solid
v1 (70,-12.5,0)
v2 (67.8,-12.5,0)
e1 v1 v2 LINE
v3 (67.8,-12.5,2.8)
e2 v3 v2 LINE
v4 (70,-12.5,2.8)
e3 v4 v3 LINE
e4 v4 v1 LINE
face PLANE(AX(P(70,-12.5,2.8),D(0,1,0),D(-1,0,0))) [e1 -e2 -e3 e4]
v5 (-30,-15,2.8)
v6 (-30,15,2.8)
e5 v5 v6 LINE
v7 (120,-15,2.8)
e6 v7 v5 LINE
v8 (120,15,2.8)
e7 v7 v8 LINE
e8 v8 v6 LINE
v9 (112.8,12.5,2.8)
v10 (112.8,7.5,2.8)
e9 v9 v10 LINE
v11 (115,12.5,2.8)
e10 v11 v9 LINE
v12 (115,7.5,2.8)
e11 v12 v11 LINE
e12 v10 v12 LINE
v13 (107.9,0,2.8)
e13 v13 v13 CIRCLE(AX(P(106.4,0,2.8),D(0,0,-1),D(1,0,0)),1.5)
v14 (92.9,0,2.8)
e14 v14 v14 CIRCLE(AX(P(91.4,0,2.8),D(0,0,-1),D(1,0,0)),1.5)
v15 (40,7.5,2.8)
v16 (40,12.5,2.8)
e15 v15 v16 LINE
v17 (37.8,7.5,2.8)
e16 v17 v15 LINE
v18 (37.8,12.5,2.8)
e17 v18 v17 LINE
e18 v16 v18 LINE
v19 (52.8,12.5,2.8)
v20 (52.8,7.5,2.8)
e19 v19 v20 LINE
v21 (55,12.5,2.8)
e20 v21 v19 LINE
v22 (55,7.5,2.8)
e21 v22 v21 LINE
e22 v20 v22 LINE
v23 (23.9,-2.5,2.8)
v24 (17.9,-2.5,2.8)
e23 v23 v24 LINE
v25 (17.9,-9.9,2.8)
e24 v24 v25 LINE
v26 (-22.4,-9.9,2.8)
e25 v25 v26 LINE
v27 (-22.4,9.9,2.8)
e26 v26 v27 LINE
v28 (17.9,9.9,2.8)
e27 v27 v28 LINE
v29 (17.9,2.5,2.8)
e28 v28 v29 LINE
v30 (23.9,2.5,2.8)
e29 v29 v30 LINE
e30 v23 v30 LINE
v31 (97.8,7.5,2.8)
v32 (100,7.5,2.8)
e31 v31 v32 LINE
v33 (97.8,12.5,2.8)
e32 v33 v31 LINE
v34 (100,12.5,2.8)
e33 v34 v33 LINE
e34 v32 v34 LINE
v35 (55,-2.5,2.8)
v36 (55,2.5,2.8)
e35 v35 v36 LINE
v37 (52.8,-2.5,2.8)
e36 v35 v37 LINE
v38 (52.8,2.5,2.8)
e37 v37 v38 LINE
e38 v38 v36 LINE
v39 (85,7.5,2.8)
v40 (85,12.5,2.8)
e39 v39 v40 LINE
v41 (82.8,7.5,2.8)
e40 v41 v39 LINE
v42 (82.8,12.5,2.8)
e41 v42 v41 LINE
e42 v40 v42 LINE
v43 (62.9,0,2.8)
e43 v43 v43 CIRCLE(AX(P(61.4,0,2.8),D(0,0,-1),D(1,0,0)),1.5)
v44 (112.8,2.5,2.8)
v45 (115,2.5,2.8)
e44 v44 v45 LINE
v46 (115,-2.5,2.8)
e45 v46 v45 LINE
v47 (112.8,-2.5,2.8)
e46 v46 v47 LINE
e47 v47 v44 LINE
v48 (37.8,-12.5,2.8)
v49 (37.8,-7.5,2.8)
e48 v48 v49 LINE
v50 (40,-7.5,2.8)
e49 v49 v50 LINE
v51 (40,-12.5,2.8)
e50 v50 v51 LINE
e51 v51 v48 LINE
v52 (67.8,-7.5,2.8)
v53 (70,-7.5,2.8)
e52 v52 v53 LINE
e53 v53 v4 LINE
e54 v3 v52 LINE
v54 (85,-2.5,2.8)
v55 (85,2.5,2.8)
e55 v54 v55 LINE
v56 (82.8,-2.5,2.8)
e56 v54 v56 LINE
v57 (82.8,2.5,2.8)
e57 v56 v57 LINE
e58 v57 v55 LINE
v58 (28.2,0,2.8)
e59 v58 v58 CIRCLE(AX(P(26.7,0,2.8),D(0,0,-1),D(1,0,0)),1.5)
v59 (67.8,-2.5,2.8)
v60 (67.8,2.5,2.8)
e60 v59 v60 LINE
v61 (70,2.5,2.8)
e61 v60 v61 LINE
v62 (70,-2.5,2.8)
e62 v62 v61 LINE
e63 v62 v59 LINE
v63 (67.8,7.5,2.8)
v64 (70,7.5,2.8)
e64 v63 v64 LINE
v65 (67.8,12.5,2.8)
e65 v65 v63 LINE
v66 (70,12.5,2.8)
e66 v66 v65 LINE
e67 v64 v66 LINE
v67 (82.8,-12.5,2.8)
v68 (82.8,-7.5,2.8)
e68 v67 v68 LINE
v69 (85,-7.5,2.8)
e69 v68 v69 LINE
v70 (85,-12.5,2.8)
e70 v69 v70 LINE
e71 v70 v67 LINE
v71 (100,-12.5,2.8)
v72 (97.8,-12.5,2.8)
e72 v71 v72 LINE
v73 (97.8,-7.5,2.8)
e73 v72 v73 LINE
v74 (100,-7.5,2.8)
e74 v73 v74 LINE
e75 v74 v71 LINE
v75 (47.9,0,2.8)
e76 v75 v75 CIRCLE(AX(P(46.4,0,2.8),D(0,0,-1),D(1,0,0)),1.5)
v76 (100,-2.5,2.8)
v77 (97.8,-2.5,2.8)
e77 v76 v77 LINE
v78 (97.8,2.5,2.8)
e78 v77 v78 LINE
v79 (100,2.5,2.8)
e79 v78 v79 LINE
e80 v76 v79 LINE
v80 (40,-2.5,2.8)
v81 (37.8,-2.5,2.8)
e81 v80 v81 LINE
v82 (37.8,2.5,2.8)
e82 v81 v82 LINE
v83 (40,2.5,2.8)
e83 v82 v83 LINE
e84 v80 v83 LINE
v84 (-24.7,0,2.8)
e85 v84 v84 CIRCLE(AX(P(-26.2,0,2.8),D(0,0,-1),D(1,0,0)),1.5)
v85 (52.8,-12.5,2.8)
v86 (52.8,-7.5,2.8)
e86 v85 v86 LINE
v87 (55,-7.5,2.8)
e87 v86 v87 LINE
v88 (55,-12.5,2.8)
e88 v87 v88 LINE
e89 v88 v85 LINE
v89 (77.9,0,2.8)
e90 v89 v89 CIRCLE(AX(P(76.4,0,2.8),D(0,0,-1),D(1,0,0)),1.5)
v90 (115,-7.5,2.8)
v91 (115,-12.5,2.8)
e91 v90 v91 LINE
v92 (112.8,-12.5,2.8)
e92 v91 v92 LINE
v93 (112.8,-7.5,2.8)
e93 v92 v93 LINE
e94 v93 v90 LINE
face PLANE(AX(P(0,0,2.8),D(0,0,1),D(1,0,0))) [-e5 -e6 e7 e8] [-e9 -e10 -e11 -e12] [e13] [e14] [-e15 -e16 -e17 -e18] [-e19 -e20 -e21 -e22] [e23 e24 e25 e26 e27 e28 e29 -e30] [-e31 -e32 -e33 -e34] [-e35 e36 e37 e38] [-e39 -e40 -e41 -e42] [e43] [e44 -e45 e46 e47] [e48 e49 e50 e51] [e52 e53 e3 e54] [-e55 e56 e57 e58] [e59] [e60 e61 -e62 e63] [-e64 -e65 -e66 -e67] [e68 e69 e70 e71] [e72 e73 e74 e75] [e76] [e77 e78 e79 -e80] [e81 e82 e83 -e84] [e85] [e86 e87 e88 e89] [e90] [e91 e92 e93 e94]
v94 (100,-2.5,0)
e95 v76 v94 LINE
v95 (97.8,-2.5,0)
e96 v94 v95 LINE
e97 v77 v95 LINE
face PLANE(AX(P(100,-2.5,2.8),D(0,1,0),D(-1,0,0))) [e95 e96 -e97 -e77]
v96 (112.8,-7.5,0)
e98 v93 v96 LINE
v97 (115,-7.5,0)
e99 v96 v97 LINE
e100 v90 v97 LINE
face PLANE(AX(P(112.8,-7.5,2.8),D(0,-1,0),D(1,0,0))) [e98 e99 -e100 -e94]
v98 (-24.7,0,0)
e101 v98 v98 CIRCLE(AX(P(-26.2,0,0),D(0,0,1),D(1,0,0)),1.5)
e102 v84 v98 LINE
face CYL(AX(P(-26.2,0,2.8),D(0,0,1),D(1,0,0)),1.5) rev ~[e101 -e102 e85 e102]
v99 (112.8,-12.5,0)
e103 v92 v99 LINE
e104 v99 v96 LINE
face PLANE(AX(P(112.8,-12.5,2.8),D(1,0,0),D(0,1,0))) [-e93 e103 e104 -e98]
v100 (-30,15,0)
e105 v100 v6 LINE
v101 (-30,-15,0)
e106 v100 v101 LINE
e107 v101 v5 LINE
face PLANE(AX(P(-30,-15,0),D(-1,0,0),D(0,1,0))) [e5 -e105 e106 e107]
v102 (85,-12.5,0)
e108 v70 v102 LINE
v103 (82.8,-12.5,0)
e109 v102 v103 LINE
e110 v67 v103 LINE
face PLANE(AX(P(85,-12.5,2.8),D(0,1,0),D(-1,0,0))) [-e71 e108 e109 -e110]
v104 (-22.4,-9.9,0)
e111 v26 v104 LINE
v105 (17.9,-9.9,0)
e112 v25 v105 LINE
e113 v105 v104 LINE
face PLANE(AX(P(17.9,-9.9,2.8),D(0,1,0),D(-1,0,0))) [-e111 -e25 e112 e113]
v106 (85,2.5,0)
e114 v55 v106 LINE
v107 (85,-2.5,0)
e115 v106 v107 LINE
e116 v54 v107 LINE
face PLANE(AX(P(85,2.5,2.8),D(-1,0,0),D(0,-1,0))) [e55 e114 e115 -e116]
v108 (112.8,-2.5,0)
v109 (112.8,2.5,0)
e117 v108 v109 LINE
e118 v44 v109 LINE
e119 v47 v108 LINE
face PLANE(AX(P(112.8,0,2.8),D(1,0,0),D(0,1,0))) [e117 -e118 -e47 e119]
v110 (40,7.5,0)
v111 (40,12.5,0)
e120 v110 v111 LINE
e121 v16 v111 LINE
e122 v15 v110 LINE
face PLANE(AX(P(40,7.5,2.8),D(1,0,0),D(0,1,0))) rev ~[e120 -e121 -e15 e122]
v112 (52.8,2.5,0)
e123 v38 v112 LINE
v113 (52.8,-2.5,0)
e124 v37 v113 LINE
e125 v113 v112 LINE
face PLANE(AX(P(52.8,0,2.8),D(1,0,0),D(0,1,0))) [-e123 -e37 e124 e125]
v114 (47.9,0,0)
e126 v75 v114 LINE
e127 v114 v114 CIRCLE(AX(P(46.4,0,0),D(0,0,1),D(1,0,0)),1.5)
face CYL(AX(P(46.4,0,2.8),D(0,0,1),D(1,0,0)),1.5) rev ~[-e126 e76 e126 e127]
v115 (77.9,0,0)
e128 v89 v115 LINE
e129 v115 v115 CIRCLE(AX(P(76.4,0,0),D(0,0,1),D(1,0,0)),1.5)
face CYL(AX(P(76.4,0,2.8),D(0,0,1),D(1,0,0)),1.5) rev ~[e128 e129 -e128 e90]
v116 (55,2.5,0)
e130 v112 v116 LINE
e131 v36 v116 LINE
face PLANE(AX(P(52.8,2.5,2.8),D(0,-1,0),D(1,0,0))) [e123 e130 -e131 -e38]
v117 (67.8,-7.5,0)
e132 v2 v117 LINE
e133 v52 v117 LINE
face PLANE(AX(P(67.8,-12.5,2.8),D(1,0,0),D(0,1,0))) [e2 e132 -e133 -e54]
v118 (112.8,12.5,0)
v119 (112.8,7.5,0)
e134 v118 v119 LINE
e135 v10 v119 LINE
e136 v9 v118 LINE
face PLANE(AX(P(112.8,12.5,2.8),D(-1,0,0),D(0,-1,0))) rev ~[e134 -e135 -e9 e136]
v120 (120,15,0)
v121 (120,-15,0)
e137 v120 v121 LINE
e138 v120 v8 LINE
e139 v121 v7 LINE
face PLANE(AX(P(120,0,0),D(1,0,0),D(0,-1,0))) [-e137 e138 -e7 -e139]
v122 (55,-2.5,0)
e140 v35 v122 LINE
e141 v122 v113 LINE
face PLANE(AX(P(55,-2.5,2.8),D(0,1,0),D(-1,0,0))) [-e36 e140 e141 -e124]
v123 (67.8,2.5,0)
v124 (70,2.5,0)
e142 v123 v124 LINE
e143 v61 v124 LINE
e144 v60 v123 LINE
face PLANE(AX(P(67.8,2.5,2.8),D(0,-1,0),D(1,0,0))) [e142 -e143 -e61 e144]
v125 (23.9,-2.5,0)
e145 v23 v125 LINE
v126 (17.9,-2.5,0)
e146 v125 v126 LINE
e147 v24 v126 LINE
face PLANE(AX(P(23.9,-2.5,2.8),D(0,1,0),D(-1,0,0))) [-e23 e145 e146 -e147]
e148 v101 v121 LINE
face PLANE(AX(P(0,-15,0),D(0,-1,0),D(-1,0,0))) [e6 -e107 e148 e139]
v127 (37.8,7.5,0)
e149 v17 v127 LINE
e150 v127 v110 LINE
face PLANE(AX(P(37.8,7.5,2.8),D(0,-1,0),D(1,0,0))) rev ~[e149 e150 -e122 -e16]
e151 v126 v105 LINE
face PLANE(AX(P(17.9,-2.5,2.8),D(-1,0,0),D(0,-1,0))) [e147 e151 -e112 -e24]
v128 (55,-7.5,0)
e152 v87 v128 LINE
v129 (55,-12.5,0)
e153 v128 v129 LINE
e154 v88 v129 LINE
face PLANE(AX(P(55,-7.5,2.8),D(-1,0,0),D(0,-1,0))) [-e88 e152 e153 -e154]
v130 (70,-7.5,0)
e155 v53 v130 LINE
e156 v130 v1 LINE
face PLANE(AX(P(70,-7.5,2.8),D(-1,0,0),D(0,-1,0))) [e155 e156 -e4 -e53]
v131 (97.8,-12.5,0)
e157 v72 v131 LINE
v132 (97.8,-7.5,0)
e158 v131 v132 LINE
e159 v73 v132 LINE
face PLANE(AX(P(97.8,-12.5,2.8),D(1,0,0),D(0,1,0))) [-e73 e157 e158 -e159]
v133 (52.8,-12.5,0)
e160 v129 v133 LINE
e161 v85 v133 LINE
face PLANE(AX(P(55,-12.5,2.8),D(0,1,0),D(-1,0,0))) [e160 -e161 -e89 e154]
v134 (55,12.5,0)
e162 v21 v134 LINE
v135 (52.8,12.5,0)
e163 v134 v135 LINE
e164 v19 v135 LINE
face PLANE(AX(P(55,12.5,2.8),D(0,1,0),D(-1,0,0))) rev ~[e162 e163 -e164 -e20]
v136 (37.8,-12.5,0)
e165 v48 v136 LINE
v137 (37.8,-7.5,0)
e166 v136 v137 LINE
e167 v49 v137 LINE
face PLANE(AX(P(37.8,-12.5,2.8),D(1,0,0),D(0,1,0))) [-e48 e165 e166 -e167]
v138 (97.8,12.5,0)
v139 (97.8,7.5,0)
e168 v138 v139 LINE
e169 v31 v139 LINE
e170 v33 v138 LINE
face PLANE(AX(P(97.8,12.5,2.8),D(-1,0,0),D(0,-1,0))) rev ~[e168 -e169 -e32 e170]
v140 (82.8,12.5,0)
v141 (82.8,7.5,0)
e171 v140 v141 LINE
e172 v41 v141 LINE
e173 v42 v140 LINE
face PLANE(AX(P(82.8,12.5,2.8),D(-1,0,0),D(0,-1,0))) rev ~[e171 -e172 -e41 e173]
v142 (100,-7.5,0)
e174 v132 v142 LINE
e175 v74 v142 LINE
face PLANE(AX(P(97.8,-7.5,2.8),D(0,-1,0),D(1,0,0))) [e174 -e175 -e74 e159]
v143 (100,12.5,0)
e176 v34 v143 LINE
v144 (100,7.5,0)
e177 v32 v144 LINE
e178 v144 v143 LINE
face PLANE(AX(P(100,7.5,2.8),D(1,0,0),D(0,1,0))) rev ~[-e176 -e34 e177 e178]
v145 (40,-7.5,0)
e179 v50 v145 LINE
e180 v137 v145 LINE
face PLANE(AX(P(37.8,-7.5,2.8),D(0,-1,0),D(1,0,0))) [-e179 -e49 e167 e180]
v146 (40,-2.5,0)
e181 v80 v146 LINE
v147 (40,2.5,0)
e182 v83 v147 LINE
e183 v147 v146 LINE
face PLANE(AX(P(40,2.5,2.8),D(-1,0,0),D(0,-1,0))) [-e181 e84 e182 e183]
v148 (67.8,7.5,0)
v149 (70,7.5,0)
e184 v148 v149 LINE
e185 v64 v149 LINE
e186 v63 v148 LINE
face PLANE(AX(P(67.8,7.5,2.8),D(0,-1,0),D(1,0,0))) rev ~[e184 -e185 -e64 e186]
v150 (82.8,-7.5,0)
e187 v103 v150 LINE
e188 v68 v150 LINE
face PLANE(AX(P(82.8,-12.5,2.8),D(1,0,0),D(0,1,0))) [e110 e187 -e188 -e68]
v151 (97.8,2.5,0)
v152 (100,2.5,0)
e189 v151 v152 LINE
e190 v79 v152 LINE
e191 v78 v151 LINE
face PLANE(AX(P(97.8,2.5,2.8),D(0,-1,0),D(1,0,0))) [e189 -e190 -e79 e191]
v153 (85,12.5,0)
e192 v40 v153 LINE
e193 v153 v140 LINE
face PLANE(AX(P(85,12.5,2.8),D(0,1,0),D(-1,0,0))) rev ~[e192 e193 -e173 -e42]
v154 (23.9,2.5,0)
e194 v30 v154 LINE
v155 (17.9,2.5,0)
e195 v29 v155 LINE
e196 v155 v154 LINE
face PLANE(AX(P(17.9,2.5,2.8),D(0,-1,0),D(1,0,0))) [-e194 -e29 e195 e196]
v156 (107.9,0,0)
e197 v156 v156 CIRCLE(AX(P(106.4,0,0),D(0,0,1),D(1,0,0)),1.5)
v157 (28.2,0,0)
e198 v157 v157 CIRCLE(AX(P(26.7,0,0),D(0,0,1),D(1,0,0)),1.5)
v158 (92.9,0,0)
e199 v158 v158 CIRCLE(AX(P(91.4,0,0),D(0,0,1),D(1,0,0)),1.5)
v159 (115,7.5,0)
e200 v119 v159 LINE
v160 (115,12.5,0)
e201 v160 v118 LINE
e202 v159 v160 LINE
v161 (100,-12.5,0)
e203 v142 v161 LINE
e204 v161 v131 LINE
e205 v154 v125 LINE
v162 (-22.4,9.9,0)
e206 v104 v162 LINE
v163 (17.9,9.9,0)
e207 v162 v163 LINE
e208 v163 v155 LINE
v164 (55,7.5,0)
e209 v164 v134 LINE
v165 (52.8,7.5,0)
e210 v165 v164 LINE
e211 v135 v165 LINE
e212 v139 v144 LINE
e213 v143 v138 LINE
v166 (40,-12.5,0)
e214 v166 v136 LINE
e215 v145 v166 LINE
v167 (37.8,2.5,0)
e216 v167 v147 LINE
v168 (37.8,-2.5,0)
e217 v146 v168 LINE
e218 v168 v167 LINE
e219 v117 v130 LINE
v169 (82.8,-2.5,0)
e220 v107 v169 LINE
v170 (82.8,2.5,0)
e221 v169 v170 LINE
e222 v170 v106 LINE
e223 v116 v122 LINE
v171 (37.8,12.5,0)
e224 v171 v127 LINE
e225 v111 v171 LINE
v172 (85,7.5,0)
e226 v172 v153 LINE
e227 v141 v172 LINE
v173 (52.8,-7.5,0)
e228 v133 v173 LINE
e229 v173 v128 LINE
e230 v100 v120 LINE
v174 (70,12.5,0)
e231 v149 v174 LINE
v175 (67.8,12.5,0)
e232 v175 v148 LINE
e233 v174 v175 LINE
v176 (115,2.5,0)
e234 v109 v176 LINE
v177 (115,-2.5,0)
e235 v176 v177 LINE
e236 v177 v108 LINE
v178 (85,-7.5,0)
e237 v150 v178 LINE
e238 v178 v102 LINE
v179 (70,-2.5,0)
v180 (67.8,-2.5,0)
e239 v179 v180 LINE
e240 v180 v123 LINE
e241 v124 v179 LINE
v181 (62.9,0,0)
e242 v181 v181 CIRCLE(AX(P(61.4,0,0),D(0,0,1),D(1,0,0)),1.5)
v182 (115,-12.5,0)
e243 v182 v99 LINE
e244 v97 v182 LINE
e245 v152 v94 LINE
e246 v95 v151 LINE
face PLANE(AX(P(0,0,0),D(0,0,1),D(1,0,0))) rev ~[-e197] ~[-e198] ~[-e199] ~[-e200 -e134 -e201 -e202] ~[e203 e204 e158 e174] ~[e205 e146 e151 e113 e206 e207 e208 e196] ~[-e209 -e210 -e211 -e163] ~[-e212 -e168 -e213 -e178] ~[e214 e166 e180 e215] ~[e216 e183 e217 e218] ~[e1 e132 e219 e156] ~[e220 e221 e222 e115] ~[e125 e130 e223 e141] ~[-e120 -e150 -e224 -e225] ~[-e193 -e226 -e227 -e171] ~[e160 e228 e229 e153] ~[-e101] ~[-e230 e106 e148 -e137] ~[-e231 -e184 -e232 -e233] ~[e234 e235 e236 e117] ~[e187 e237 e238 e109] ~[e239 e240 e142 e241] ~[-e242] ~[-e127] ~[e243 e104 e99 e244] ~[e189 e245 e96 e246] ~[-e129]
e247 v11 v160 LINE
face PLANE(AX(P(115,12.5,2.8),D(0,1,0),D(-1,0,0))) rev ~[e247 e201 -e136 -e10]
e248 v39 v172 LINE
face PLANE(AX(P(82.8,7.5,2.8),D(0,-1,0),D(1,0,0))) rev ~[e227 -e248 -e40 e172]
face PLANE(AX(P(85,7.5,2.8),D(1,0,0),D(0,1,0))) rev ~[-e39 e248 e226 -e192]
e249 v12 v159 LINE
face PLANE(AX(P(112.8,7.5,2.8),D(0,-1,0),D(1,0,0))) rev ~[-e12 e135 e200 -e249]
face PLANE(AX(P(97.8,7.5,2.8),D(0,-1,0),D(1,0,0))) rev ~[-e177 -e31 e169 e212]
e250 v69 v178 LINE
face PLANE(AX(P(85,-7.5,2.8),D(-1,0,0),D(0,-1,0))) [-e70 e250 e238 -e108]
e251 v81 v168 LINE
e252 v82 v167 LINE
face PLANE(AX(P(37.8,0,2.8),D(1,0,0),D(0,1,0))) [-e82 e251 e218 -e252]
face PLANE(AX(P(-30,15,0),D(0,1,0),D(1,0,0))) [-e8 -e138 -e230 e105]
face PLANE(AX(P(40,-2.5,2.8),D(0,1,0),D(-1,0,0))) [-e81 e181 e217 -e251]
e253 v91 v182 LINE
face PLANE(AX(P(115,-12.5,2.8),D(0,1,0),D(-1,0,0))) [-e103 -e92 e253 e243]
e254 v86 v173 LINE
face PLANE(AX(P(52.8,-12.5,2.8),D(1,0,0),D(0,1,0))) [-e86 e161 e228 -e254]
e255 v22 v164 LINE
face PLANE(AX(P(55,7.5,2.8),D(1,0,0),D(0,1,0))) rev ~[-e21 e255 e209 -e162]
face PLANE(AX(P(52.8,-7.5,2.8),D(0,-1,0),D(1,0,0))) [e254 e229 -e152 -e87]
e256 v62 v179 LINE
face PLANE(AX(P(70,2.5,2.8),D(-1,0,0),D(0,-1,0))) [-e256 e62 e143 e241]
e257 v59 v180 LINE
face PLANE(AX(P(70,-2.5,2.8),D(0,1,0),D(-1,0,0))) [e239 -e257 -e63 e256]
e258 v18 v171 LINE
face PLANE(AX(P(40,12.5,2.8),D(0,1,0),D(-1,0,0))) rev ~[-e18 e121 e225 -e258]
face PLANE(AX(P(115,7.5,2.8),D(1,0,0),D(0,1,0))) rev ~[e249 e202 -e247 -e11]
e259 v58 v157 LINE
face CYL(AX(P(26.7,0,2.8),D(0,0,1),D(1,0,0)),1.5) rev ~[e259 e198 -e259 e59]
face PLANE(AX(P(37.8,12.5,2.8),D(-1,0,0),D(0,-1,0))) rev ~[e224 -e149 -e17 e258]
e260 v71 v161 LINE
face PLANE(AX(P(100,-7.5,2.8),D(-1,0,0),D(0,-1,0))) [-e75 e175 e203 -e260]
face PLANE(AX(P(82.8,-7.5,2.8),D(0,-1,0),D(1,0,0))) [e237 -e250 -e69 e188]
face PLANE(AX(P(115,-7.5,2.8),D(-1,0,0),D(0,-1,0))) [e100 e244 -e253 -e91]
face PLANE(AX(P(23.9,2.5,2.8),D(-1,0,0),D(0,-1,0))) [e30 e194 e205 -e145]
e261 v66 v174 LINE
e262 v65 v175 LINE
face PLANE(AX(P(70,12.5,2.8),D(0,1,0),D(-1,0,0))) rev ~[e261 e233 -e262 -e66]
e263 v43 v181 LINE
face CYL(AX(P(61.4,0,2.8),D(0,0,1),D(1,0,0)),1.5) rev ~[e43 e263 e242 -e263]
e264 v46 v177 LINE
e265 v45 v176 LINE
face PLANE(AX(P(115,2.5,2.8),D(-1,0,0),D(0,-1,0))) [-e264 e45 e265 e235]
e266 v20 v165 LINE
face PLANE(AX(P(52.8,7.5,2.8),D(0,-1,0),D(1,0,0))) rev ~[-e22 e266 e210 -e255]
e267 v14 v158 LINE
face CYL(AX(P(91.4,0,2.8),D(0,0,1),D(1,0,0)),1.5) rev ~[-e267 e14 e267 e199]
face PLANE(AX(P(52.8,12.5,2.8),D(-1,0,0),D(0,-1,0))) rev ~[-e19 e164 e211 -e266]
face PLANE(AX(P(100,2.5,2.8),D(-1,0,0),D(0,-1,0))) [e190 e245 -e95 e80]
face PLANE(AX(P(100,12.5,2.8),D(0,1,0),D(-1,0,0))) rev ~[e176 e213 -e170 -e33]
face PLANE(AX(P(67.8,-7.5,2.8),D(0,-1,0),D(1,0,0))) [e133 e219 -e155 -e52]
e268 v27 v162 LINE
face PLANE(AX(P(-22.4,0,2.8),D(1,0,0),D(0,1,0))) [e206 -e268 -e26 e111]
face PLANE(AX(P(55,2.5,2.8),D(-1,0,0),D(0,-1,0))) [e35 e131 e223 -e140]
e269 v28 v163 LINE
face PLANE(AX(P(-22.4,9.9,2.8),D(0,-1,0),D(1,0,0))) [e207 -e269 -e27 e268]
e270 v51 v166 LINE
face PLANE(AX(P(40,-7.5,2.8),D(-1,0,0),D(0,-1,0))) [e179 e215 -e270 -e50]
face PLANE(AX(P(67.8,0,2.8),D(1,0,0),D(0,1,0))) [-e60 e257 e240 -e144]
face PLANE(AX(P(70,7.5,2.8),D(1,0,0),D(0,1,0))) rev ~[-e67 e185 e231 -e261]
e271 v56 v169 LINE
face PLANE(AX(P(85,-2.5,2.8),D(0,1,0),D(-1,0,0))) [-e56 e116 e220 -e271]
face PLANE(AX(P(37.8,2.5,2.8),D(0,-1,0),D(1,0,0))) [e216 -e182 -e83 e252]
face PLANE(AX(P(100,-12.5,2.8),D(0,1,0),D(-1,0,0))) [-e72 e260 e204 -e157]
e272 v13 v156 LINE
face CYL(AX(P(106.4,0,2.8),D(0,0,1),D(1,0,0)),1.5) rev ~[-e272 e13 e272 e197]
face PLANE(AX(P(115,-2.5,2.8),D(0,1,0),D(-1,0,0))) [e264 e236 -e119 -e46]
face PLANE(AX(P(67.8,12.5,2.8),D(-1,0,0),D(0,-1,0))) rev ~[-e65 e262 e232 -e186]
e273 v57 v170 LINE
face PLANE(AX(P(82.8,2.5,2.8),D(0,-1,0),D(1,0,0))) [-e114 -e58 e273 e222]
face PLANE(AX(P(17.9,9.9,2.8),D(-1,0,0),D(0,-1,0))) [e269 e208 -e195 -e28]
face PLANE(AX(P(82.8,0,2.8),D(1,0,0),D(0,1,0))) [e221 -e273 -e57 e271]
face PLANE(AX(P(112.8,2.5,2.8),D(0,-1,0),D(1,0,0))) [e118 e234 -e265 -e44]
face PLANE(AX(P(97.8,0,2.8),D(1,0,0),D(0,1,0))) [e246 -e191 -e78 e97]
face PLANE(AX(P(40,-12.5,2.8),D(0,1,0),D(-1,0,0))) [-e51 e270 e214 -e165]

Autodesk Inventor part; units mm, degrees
ref_plane "YZ Plane" through (0, 0, 0) normal (1, 0, 0) x (0, 1, 0)
ref_plane "XZ Plane" through (0, 0, 0) normal (0, 1, 0) x (-1, 0, 0)
ref_plane "XY Plane" through (0, 0, 0) normal (0, 0, 1) x (1, 0, 0)
sketch "Sketch1" plane through (0, 0, 0) normal (0, 0, 1) x (1, 0, 0)
  line L0 (-30, -15) -> (-30, 15)
  line L1 (-30, 15) -> (120, 15)
  line L2 (120, 15) -> (120, -15)
  line L3 (120, -15) -> (-30, -15)
  line L4 (-60, 0) -> (150, 0) projected
  line L5 (0, -21) -> (0, 21) projected
  dimension "d13" = 30
  dimension "d55" = 150
  dimension "d56" = 15
extrude "Extrusion1" add sketch "Sketch1" along normal blind 2.8
sketch "Sketch4" plane through (0, 0, 2.8) normal (0, 0, 1) x (1, 0, 0)
  line L0 (-60, 0) -> (150, 0) projected
  line L1 (17.9, 9.9) -> (17.9, 2.5)
  line L2 (-22.4, 9.9) -> (17.9, 9.9)
  line L3 (17.9, 2.5) -> (23.9, 2.5)
  line L4 (23.9, 2.5) -> (23.9, -2.5)
  line L5 (23.9, -2.5) -> (17.9, -2.5)
  line L6 (17.9, -2.5) -> (17.9, -9.9)
  line L7 (17.9, -9.9) -> (-22.4, -9.9)
  line L8 (-22.4, -9.9) -> (-22.4, 9.9)
  line L9 (-22.4, 9.9) -> (17.9, 9.9)
  circle A0 centre (26.7, 0) radius 1.5
  circle A1 centre (-26.2, 0) radius 1.5
  line L10 (120, 15) -> (120, -15) projected
  line L11 (120, -15) -> (-30, -15) projected
  line L12 (112.8, 2.5) -> (115, 2.5)
  line L13 (115, 2.5) -> (115, -2.5)
  line L14 (115, -2.5) -> (112.8, -2.5)
  line L15 (112.8, -2.5) -> (112.8, 2.5)
  line L16 (97.8, 2.5) -> (100, 2.5)
  line L17 (100, 2.5) -> (100, -2.5)
  line L18 (100, -2.5) -> (97.8, -2.5)
  line L19 (97.8, -2.5) -> (97.8, 2.5)
  line L20 (82.8, 2.5) -> (85, 2.5)
  line L21 (85, 2.5) -> (85, -2.5)
  line L22 (85, -2.5) -> (82.8, -2.5)
  line L23 (82.8, -2.5) -> (82.8, 2.5)
  line L24 (67.8, 2.5) -> (70, 2.5)
  line L25 (70, 2.5) -> (70, -2.5)
  line L26 (70, -2.5) -> (67.8, -2.5)
  line L27 (67.8, -2.5) -> (67.8, 2.5)
  line L28 (52.8, 2.5) -> (55, 2.5)
  line L29 (55, 2.5) -> (55, -2.5)
  line L30 (55, -2.5) -> (52.8, -2.5)
  line L31 (52.8, -2.5) -> (52.8, 2.5)
  line L32 (37.8, 2.5) -> (40, 2.5)
  line L33 (40, 2.5) -> (40, -2.5)
  line L34 (40, -2.5) -> (37.8, -2.5)
  line L35 (37.8, -2.5) -> (37.8, 2.5)
  line L36 (112.8, -7.5) -> (115, -7.5)
  line L37 (115, -7.5) -> (115, -12.5)
  line L38 (115, -12.5) -> (112.8, -12.5)
  line L39 (112.8, -12.5) -> (112.8, -7.5)
  line L40 (97.8, -7.5) -> (100, -7.5)
  line L41 (100, -7.5) -> (100, -12.5)
  line L42 (100, -12.5) -> (97.8, -12.5)
  line L43 (97.8, -12.5) -> (97.8, -7.5)
  line L44 (82.8, -7.5) -> (85, -7.5)
  line L45 (85, -7.5) -> (85, -12.5)
  line L46 (85, -12.5) -> (82.8, -12.5)
  line L47 (82.8, -12.5) -> (82.8, -7.5)
  line L48 (67.8, -7.5) -> (70, -7.5)
  line L49 (70, -7.5) -> (70, -12.5)
  line L50 (70, -12.5) -> (67.8, -12.5)
  line L51 (67.8, -12.5) -> (67.8, -7.5)
  line L52 (52.8, -7.5) -> (55, -7.5)
  line L53 (55, -7.5) -> (55, -12.5)
  line L54 (55, -12.5) -> (52.8, -12.5)
  line L55 (52.8, -12.5) -> (52.8, -7.5)
  line L56 (37.8, -7.5) -> (40, -7.5)
  line L57 (40, -7.5) -> (40, -12.5)
  line L58 (40, -12.5) -> (37.8, -12.5)
  line L59 (37.8, -12.5) -> (37.8, -7.5)
  line L60 (112.8, 12.5) -> (112.8, 7.5)
  line L61 (115, 12.5) -> (112.8, 12.5)
  line L62 (112.8, 7.5) -> (115, 7.5)
  line L63 (115, 7.5) -> (115, 12.5)
  line L64 (97.8, 12.5) -> (97.8, 7.5)
  line L65 (100, 12.5) -> (97.8, 12.5)
  line L66 (97.8, 7.5) -> (100, 7.5)
  line L67 (100, 7.5) -> (100, 12.5)
  line L68 (82.8, 12.5) -> (82.8, 7.5)
  line L69 (85, 12.5) -> (82.8, 12.5)
  line L70 (82.8, 7.5) -> (85, 7.5)
  line L71 (85, 7.5) -> (85, 12.5)
  line L72 (67.8, 12.5) -> (67.8, 7.5)
  line L73 (70, 12.5) -> (67.8, 12.5)
  line L74 (67.8, 7.5) -> (70, 7.5)
  line L75 (70, 7.5) -> (70, 12.5)
  line L76 (52.8, 12.5) -> (52.8, 7.5)
  line L77 (55, 12.5) -> (52.8, 12.5)
  line L78 (52.8, 7.5) -> (55, 7.5)
  line L79 (55, 7.5) -> (55, 12.5)
  line L80 (37.8, 12.5) -> (37.8, 7.5)
  line L81 (40, 12.5) -> (37.8, 12.5)
  line L82 (37.8, 7.5) -> (40, 7.5)
  line L83 (40, 7.5) -> (40, 12.5)
  circle A2 centre (106.4, 0) radius 1.5
  circle A3 centre (91.4, 0) radius 1.5
  circle A4 centre (76.4, 0) radius 1.5
  circle A5 centre (61.4, 0) radius 1.5
  circle A6 centre (46.4, 0) radius 1.5
  dimension "d57" = 2.2
  dimension "d58" = 5
  dimension "d59" = 2.5
  dimension "d60" = 5
  dimension "d63" = 15
  dimension "d66" = 10
  dimension "d69" = 3
  dimension "d70" = 6.4
  dimension "d73" = 15
extrude "Extrusion3" cut sketch "Sketch4" against normal through all
equation "\"d56\" = 0.5 * d13"
properties part number "Acrylic_UpperArm_Support"
